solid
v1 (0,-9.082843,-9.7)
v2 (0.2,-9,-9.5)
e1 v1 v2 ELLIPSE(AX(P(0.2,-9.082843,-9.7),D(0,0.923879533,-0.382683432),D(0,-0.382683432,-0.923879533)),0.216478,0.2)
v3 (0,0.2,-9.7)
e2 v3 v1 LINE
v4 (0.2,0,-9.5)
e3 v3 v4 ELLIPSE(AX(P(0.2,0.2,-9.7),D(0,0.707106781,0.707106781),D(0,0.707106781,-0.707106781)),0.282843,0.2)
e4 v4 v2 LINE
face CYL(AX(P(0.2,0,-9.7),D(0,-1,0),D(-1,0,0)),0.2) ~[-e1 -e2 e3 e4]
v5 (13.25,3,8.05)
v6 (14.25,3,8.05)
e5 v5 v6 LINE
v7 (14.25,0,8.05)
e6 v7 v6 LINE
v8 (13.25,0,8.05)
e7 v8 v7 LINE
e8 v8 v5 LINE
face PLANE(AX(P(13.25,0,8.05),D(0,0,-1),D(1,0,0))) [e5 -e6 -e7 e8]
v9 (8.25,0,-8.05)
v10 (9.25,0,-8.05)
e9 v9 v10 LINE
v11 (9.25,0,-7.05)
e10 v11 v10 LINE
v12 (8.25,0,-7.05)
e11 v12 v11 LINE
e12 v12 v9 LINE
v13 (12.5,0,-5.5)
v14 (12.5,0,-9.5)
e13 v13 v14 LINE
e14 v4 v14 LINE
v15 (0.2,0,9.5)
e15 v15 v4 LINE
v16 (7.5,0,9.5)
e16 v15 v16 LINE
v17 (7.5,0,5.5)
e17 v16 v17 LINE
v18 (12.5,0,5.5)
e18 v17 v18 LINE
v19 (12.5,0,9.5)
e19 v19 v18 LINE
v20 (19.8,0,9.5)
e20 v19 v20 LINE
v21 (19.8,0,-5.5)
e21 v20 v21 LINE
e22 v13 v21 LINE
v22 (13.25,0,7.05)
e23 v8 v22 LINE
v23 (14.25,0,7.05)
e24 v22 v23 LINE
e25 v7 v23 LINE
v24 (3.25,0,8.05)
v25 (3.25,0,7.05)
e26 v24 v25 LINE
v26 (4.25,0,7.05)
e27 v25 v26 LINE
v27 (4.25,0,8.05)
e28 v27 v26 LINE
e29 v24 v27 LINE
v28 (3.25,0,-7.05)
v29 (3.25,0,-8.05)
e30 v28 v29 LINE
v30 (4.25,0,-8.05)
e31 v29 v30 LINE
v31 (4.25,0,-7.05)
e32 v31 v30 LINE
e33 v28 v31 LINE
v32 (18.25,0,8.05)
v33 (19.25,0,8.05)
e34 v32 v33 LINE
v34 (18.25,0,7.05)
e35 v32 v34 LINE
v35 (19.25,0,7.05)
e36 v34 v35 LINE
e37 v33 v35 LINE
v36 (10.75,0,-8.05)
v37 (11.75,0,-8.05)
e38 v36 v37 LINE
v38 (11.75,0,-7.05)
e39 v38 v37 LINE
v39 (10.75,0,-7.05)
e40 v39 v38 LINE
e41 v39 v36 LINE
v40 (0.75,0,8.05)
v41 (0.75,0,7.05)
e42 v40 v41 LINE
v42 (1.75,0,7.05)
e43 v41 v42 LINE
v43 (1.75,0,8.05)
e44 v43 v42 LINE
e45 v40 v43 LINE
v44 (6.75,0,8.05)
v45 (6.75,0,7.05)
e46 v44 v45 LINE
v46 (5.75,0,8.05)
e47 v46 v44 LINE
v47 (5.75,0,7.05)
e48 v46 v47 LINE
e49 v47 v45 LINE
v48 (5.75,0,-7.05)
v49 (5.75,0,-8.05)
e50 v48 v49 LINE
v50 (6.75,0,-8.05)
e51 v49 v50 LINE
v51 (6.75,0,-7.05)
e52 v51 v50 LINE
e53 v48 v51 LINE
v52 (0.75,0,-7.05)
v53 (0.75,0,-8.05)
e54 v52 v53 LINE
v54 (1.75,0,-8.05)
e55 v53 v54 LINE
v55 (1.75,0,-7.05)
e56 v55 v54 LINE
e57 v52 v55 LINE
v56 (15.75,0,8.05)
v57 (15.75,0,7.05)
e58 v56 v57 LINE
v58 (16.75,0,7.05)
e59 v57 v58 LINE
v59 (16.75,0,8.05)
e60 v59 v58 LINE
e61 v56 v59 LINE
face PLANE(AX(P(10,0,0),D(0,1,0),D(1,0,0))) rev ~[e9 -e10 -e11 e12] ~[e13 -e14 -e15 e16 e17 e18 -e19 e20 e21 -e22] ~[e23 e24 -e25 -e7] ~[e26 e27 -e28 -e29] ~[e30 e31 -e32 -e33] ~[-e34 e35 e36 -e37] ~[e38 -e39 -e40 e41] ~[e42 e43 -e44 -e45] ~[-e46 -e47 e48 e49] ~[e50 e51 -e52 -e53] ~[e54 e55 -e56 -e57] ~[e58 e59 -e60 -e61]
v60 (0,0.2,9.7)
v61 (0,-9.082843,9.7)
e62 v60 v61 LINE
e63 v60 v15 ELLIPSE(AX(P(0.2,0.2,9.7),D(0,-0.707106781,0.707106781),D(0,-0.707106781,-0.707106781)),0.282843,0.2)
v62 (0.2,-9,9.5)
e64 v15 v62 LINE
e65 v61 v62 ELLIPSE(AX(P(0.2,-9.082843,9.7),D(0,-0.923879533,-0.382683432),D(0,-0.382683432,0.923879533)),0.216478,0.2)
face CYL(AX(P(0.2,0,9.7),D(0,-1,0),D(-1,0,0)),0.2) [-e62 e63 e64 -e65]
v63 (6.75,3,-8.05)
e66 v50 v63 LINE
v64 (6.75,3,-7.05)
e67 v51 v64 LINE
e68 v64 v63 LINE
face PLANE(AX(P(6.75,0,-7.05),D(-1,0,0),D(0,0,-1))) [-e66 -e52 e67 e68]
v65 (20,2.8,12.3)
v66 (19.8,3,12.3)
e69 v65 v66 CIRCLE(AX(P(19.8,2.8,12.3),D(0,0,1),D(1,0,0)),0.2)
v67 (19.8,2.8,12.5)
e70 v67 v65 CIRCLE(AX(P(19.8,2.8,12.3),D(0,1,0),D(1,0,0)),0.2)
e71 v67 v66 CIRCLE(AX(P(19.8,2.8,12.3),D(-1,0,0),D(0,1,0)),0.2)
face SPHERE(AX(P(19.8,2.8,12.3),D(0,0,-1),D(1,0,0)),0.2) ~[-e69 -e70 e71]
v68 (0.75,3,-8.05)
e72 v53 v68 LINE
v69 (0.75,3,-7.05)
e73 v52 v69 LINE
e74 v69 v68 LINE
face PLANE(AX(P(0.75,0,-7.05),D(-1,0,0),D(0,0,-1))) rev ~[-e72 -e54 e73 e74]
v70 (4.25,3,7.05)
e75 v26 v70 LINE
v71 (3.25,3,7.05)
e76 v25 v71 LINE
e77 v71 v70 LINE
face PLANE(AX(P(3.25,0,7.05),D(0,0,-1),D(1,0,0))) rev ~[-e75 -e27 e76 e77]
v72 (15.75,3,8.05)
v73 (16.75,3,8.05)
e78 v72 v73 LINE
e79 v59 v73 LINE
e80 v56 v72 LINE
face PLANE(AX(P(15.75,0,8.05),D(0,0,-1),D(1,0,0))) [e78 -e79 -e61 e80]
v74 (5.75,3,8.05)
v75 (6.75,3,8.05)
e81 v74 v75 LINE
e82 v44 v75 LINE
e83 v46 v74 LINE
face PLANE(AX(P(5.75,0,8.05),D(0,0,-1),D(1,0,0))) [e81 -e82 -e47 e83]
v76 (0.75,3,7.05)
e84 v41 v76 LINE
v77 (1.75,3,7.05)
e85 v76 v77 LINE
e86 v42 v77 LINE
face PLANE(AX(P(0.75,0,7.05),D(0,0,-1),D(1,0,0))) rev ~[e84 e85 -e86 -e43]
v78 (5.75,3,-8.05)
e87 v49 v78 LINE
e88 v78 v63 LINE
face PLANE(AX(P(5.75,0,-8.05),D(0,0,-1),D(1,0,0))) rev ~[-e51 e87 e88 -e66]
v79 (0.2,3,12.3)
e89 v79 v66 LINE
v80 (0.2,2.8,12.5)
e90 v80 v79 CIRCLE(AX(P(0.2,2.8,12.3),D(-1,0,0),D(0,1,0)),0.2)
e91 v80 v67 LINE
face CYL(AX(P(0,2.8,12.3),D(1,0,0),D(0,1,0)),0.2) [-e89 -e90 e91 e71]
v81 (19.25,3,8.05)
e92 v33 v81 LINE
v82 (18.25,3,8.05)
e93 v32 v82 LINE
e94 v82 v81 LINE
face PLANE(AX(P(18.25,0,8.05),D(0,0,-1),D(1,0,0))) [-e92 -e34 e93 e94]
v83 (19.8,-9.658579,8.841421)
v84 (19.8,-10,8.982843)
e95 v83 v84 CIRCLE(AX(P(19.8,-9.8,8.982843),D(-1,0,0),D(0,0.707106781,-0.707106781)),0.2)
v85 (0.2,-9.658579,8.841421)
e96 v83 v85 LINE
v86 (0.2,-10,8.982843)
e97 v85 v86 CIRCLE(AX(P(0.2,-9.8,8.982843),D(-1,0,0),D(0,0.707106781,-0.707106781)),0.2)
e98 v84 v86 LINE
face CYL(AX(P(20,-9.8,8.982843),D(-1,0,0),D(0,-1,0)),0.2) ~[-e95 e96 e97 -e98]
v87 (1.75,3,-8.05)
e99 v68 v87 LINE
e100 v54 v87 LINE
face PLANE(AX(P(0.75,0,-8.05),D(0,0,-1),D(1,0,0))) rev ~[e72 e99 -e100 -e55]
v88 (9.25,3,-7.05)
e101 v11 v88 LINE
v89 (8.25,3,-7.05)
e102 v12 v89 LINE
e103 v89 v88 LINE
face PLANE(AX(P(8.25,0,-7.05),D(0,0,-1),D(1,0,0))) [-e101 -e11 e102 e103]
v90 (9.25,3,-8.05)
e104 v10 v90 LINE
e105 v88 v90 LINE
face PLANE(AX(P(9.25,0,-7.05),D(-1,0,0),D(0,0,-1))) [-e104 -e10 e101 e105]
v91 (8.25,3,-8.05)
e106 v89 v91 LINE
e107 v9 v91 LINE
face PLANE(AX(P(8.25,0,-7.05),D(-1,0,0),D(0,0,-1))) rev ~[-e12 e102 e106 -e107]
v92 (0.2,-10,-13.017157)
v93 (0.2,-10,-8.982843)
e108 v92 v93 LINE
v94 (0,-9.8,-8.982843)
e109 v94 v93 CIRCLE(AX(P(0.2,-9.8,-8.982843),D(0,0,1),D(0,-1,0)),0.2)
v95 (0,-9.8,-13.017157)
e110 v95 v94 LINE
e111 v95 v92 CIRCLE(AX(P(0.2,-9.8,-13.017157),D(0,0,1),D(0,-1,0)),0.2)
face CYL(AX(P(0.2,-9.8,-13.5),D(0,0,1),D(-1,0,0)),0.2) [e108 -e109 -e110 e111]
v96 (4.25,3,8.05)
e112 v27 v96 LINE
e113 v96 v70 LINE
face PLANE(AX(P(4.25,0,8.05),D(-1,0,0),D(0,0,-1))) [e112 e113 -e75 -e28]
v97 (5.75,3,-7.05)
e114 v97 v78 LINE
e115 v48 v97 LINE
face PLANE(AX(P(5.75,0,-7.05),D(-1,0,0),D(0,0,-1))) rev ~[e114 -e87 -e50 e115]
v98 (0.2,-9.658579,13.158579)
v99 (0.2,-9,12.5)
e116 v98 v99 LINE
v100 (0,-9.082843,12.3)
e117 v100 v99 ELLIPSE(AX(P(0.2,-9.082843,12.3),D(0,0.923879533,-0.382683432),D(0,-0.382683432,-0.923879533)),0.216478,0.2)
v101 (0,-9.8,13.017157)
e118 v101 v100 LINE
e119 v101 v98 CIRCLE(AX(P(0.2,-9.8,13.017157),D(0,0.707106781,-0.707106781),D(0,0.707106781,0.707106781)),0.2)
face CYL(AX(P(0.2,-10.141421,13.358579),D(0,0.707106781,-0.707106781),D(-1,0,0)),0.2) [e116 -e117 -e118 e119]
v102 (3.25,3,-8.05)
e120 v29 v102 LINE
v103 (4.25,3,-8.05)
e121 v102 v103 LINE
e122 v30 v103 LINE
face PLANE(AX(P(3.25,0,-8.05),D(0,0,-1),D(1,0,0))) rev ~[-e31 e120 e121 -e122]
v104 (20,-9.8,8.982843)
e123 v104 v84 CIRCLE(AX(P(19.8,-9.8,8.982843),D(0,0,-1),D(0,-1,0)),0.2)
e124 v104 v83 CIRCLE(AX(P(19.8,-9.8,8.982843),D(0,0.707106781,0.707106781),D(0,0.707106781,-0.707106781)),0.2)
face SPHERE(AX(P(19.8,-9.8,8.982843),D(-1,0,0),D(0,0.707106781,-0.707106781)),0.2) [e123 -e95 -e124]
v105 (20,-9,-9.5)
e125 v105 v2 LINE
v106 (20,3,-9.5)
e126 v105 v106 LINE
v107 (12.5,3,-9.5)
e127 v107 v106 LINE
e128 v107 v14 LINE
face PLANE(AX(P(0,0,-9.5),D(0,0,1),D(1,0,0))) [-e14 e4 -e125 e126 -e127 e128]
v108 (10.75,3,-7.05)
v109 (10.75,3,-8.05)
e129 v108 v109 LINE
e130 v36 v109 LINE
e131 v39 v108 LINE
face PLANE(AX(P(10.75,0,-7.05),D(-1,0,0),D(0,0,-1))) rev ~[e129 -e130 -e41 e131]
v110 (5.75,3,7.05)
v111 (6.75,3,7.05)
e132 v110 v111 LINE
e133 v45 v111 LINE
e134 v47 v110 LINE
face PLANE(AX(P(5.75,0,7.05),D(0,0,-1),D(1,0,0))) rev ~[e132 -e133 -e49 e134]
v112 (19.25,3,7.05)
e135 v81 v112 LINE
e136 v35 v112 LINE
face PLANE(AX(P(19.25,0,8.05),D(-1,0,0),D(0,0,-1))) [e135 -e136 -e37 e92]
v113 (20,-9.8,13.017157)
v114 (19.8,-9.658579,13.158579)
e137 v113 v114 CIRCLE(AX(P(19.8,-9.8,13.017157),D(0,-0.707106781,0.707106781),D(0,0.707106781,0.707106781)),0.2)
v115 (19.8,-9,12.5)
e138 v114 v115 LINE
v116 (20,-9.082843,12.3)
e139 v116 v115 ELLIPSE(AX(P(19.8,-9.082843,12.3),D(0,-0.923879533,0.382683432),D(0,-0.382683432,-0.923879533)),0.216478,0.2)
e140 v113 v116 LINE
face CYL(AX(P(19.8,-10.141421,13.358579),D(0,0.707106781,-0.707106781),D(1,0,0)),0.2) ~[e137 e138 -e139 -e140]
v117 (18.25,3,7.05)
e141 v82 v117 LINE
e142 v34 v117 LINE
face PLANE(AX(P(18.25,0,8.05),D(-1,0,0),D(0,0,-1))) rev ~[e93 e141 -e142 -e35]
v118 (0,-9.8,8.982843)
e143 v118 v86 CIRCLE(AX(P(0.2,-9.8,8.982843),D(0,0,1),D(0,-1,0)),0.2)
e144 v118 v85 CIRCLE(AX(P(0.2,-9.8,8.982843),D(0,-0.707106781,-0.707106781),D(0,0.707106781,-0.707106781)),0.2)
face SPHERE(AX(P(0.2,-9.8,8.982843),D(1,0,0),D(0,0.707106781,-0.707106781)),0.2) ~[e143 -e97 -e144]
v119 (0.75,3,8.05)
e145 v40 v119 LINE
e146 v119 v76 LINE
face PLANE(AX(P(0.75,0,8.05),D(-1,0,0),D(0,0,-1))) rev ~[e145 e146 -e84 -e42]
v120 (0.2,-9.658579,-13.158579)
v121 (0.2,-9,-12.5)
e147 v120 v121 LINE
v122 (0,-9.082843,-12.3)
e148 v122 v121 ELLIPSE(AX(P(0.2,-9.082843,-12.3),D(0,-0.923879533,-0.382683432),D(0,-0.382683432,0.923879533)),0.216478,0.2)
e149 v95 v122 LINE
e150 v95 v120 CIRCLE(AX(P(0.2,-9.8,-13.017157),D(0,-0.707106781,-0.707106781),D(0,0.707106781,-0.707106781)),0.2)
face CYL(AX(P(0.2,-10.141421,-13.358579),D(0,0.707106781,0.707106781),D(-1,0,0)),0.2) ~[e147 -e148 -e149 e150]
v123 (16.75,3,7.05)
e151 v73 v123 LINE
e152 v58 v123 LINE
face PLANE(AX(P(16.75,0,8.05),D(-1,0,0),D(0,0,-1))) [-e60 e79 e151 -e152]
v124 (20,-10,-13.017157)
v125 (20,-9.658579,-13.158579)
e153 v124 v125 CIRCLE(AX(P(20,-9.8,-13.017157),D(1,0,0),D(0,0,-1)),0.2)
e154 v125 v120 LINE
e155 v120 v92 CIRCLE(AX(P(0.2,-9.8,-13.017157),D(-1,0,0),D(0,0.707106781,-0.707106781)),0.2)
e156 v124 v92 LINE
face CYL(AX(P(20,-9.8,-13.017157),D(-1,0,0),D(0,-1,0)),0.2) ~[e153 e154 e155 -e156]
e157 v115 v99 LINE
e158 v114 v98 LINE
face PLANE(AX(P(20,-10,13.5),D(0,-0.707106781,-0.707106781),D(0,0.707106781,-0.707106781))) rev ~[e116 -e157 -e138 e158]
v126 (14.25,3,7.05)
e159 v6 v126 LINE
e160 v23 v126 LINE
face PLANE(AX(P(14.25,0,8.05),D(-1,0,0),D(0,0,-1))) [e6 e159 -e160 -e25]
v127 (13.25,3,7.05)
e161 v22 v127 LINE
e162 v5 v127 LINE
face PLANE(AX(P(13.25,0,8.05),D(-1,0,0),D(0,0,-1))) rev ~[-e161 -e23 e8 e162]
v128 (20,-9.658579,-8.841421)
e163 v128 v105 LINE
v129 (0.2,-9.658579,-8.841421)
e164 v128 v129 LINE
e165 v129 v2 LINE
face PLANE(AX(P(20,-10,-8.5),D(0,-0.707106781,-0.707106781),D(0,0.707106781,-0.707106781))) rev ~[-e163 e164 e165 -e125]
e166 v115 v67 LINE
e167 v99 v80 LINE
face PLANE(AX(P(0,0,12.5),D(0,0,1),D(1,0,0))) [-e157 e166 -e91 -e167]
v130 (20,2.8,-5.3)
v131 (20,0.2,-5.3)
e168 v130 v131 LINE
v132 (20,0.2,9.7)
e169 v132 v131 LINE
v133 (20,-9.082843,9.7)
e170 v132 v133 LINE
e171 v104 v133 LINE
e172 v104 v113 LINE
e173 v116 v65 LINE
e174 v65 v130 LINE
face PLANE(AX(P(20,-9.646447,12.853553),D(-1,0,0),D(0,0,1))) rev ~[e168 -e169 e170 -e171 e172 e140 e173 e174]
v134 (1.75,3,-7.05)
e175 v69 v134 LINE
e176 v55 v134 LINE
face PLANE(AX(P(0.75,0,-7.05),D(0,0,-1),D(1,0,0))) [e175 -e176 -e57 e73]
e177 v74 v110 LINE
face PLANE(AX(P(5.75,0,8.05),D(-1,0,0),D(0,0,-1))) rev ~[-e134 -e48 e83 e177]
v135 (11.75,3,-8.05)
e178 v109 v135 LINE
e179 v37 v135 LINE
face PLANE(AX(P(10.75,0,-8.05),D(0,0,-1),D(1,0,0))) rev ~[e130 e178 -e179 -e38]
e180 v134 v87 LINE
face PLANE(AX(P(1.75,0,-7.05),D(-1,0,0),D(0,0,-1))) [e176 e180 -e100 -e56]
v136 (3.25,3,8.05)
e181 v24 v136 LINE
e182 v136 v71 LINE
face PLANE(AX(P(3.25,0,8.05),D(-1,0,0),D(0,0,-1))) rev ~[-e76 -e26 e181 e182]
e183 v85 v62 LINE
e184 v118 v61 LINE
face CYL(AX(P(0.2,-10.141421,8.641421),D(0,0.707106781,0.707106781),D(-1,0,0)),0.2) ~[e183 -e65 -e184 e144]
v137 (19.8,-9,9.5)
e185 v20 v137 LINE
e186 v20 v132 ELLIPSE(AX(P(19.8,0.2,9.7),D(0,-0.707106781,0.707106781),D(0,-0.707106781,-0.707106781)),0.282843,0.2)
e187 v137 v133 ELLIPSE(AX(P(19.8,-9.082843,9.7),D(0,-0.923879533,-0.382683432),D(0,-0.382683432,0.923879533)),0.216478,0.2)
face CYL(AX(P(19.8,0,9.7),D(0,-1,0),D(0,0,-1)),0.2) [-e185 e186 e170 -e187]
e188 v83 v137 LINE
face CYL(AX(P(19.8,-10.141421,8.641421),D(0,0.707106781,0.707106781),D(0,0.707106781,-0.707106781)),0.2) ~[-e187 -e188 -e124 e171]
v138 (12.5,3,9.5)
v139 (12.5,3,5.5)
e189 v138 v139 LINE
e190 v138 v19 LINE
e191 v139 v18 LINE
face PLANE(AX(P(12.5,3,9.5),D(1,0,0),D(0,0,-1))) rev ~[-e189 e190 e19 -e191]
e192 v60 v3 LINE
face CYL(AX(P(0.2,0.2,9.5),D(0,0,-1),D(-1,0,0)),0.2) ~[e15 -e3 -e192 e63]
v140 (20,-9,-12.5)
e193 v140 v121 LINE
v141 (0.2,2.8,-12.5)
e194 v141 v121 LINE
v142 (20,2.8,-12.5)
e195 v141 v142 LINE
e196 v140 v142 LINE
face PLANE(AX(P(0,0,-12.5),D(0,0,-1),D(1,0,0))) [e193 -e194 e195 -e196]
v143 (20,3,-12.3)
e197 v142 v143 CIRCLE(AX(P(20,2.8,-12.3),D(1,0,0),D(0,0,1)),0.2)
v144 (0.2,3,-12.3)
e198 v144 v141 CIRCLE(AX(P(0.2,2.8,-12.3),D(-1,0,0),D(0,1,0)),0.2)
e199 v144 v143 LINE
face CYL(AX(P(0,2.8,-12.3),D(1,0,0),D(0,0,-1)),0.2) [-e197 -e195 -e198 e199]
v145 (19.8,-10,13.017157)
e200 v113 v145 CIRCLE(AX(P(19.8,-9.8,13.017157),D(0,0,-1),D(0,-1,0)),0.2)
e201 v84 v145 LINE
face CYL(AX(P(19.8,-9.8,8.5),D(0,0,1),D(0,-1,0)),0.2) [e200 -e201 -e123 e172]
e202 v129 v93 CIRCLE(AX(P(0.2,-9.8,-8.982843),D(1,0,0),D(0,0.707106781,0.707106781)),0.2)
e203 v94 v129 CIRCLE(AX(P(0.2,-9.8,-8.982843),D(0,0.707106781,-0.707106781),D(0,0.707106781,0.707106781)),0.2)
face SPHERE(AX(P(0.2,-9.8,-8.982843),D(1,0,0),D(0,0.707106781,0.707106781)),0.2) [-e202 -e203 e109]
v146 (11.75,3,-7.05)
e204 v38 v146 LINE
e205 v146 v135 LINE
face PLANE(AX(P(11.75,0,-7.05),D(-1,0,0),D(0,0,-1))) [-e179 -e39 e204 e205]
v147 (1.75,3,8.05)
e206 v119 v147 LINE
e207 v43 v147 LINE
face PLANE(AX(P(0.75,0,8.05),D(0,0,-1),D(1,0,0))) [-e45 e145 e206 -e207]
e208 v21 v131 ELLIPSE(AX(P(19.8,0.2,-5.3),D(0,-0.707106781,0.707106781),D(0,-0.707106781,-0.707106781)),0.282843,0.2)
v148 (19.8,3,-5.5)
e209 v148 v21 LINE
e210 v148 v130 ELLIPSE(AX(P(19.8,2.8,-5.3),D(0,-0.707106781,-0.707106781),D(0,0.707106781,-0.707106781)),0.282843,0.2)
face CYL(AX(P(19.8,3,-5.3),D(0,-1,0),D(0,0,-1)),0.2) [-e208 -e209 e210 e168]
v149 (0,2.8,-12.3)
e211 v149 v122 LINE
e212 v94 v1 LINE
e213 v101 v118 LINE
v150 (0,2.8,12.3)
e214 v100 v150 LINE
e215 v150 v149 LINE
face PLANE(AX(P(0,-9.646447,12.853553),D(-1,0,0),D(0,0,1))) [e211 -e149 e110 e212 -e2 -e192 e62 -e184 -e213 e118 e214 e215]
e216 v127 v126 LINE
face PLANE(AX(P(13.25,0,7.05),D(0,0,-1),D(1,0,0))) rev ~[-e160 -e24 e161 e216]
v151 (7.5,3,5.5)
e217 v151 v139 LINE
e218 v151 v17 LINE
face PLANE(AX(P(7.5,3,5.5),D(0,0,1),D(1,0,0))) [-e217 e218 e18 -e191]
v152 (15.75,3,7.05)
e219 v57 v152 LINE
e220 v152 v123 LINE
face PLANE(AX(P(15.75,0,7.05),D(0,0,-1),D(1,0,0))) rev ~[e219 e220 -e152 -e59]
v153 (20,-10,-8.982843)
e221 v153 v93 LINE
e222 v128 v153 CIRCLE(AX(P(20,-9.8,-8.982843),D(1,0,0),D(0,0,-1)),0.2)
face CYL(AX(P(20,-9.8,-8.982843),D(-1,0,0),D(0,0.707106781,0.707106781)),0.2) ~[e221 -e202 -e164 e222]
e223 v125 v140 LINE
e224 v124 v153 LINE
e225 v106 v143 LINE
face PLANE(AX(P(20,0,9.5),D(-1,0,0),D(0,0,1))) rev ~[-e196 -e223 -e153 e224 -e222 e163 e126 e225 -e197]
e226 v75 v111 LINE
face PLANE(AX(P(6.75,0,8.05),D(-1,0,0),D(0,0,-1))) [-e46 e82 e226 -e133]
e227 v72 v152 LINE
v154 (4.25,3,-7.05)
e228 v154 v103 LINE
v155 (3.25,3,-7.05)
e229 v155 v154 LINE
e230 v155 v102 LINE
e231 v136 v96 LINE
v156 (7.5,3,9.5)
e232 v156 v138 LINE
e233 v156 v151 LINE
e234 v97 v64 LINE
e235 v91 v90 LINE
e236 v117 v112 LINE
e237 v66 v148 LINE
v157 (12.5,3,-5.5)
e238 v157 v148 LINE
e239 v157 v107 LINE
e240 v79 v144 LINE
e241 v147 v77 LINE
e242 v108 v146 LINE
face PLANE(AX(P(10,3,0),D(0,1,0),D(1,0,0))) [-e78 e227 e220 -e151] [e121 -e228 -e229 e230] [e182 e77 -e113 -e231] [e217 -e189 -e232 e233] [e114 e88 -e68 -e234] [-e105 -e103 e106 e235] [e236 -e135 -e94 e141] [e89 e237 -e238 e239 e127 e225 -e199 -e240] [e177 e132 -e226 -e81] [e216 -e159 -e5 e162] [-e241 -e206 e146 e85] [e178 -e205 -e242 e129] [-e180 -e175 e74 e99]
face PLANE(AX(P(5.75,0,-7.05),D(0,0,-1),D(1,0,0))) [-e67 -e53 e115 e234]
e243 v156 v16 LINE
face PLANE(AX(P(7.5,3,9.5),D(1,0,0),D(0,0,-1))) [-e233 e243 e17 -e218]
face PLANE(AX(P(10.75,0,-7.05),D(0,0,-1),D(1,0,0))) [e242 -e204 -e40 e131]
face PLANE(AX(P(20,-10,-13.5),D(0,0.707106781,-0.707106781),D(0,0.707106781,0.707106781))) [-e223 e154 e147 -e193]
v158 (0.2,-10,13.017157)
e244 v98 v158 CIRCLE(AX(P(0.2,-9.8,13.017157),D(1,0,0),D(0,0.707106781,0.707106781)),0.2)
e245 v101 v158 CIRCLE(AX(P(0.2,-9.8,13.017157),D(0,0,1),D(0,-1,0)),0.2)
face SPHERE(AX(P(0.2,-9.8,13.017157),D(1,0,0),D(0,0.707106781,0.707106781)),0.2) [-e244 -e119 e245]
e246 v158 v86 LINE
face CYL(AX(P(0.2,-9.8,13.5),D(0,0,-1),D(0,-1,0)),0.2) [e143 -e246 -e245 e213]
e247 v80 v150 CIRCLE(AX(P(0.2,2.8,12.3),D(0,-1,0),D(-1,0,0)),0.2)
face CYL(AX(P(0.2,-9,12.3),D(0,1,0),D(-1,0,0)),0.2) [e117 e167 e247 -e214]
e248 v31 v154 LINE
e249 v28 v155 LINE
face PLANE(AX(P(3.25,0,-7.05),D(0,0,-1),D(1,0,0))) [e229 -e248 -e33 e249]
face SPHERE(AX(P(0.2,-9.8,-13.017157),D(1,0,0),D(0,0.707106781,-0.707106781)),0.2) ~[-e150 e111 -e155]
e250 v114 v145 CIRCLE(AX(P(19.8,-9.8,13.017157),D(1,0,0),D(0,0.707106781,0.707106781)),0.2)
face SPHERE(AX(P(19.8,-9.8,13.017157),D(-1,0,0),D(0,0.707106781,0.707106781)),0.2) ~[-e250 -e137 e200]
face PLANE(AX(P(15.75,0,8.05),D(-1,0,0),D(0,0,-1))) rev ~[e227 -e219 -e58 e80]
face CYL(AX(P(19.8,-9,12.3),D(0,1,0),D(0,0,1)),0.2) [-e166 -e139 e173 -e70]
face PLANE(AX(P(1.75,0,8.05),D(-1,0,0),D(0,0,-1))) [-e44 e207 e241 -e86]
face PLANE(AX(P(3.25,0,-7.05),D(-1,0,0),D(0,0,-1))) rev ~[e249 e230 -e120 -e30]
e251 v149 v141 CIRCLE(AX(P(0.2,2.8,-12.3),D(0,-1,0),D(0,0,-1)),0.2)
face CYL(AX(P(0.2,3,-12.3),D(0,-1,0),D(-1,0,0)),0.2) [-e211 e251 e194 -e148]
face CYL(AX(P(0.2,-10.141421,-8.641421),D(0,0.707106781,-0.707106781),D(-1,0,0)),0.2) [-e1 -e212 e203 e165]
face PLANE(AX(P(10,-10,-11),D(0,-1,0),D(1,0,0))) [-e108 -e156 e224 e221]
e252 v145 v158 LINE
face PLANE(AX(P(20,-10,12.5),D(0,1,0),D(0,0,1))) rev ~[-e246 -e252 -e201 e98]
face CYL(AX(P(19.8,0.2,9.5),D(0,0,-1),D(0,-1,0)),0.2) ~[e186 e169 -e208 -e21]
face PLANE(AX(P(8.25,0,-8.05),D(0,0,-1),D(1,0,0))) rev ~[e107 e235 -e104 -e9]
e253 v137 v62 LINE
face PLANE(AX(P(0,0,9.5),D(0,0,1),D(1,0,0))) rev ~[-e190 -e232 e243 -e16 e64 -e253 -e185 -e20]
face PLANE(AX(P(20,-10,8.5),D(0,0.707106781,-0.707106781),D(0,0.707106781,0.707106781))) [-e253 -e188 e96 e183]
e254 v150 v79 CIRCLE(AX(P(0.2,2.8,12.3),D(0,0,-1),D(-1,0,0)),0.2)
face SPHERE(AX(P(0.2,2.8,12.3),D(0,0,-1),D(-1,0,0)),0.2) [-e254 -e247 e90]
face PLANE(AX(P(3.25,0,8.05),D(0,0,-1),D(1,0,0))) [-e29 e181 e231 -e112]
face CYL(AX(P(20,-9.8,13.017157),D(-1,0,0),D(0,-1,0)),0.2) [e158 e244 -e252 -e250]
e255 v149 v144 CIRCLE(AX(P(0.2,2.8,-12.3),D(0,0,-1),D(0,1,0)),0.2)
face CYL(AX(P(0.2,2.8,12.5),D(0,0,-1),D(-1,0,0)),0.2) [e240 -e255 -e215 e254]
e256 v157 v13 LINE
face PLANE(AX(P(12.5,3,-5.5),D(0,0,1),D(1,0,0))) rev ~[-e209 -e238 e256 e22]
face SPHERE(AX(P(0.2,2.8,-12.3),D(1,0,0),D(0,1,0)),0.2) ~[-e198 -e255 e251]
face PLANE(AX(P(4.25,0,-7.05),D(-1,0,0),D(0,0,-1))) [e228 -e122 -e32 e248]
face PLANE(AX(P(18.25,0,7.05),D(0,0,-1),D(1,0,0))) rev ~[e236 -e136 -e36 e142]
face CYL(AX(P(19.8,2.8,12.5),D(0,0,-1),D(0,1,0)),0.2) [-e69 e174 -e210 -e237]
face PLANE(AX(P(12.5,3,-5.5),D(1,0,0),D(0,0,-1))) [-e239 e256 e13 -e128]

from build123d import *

# Parameters (mm, degrees)
SKETCH_2_W          = 20
SKETCH_2_H          = 25
SKETCH_2_W_2        = 1
SKETCH_2_H_2        = 1
EXTRUDE_1_DEPTH     = 3
SKETCH_3_W          = 20
SKETCH_3_H          = 3
EXTRUDE_2_DEPTH     = 10
SKETCH_5_W          = 7.5
SKETCH_5_H          = 4
SKETCH_5_W_2        = 5
CUT_EXTRUDE_1_DEPTH = 3
EXTRUDE_3_DEPTH     = 20
FILLET_1_R          = 0.2


with BuildPart() as part:
    # 草图2 → 凸台-拉伸1 (new body)
    with BuildSketch(Plane(origin=(0, 0, 0), x_dir=(1, 0, 0), z_dir=(0, 1, 0))):
        with Locations((10, 0)):
            Rectangle(SKETCH_2_W, SKETCH_2_H)
        with Locations((1.25, -7.55)):
            Rectangle(SKETCH_2_W_2, SKETCH_2_H_2, mode=Mode.SUBTRACT)
        with Locations((3.75, -7.55)):
            Rectangle(SKETCH_2_W_2, SKETCH_2_H_2, mode=Mode.SUBTRACT)
        with Locations((6.25, -7.55)):
            Rectangle(SKETCH_2_W_2, SKETCH_2_H_2, mode=Mode.SUBTRACT)
        with Locations((8.75, -7.55)):
            Rectangle(SKETCH_2_W_2, SKETCH_2_H_2, mode=Mode.SUBTRACT)
        with Locations((11.25, -7.55)):
            Rectangle(SKETCH_2_W_2, SKETCH_2_H_2, mode=Mode.SUBTRACT)
        with Locations((13.75, -7.55)):
            Rectangle(SKETCH_2_W_2, SKETCH_2_H_2, mode=Mode.SUBTRACT)
        with Locations((16.25, -7.55)):
            Rectangle(SKETCH_2_W_2, SKETCH_2_H_2, mode=Mode.SUBTRACT)
        with Locations((18.75, -7.55)):
            Rectangle(SKETCH_2_W_2, SKETCH_2_H_2, mode=Mode.SUBTRACT)
        with Locations((18.75, 7.55)):
            Rectangle(SKETCH_2_W_2, SKETCH_2_H_2, mode=Mode.SUBTRACT)
        with Locations((16.25, 7.55)):
            Rectangle(SKETCH_2_W_2, SKETCH_2_H_2, mode=Mode.SUBTRACT)
        with Locations((13.75, 7.55)):
            Rectangle(SKETCH_2_W_2, SKETCH_2_H_2, mode=Mode.SUBTRACT)
        with Locations((11.25, 7.55)):
            Rectangle(SKETCH_2_W_2, SKETCH_2_H_2, mode=Mode.SUBTRACT)
        with Locations((8.75, 7.55)):
            Rectangle(SKETCH_2_W_2, SKETCH_2_H_2, mode=Mode.SUBTRACT)
        with Locations((6.25, 7.55)):
            Rectangle(SKETCH_2_W_2, SKETCH_2_H_2, mode=Mode.SUBTRACT)
        with Locations((3.75, 7.55)):
            Rectangle(SKETCH_2_W_2, SKETCH_2_H_2, mode=Mode.SUBTRACT)
        with Locations((1.25, 7.55)):
            Rectangle(SKETCH_2_W_2, SKETCH_2_H_2, mode=Mode.SUBTRACT)
    extrude(amount=EXTRUDE_1_DEPTH)

    # 草图3 → 凸台-拉伸2 (add)
    with BuildSketch(Plane.XZ):
        with Locations((10, 11)):
            Rectangle(SKETCH_3_W, SKETCH_3_H)
        with Locations((10, -11)):
            Rectangle(SKETCH_3_W, SKETCH_3_H)
    extrude(amount=EXTRUDE_2_DEPTH)

    # 草图5 → 切除-拉伸1 (cut)
    with BuildSketch(Plane(origin=(0, 3, 0), x_dir=(1, 0, 0), z_dir=(0, 1, 0))):
        with Locations((16.25, 7.5)):
            Rectangle(SKETCH_5_W, SKETCH_5_H)
        with Locations((10, -7.5)):
            Rectangle(SKETCH_5_W_2, SKETCH_5_H)
    extrude(amount=-CUT_EXTRUDE_1_DEPTH, mode=Mode.SUBTRACT)

    # 草图4 → 凸台-拉伸3 (add)
    with BuildSketch(Plane(origin=(20, 0, 0), x_dir=(0, 0, -1), z_dir=(1, 0, 0))):
        Polygon((-12.5, -10), (-13.5, -10), (-12.5, -9), align=None)
        Polygon((9.5, -10), (8.5, -10), (9.5, -9), align=None)
        Polygon((12.5, -10), (13.5, -10), (12.5, -9), align=None)
        Polygon((-9.5, -10), (-8.5, -10), (-9.5, -9), align=None)
    extrude(amount=-EXTRUDE_3_DEPTH)

    # 圆角1
    fillet_1_edges = [part.edges().sort_by_distance(p)[0] for p in [
        (20, 3, 3.5),
        (10, 3, -12.5),
        (20, 0, 2),
        (0, -10, 11),
        (20, -10, 11),
        (0, 0, 0),
        (0, -10, -11),
        (20, 1.5, -5.5),
        (10, -10, 13.5),
        (20, -9.5, 13),
        (0, -9.5, 13),
        (0, -4.5, -9.5),
        (10, -10, -8.5),
        (0, -9.5, -9),
        (10, -10, -13.5),
        (0, -9.5, -13),
        (20, -4.5, 9.5),
        (0, -4.5, 9.5),
        (10, -10, 8.5),
        (20, -9.5, 9),
        (0, -9.5, 9),
        (0, 3, 0),
        (0, -3, -12.5),
        (20, -3, 12.5),
        (0, -3, 12.5),
        (10, 3, 12.5),
    ]]
    fillet(fillet_1_edges, radius=FILLET_1_R)


solid = part.part
